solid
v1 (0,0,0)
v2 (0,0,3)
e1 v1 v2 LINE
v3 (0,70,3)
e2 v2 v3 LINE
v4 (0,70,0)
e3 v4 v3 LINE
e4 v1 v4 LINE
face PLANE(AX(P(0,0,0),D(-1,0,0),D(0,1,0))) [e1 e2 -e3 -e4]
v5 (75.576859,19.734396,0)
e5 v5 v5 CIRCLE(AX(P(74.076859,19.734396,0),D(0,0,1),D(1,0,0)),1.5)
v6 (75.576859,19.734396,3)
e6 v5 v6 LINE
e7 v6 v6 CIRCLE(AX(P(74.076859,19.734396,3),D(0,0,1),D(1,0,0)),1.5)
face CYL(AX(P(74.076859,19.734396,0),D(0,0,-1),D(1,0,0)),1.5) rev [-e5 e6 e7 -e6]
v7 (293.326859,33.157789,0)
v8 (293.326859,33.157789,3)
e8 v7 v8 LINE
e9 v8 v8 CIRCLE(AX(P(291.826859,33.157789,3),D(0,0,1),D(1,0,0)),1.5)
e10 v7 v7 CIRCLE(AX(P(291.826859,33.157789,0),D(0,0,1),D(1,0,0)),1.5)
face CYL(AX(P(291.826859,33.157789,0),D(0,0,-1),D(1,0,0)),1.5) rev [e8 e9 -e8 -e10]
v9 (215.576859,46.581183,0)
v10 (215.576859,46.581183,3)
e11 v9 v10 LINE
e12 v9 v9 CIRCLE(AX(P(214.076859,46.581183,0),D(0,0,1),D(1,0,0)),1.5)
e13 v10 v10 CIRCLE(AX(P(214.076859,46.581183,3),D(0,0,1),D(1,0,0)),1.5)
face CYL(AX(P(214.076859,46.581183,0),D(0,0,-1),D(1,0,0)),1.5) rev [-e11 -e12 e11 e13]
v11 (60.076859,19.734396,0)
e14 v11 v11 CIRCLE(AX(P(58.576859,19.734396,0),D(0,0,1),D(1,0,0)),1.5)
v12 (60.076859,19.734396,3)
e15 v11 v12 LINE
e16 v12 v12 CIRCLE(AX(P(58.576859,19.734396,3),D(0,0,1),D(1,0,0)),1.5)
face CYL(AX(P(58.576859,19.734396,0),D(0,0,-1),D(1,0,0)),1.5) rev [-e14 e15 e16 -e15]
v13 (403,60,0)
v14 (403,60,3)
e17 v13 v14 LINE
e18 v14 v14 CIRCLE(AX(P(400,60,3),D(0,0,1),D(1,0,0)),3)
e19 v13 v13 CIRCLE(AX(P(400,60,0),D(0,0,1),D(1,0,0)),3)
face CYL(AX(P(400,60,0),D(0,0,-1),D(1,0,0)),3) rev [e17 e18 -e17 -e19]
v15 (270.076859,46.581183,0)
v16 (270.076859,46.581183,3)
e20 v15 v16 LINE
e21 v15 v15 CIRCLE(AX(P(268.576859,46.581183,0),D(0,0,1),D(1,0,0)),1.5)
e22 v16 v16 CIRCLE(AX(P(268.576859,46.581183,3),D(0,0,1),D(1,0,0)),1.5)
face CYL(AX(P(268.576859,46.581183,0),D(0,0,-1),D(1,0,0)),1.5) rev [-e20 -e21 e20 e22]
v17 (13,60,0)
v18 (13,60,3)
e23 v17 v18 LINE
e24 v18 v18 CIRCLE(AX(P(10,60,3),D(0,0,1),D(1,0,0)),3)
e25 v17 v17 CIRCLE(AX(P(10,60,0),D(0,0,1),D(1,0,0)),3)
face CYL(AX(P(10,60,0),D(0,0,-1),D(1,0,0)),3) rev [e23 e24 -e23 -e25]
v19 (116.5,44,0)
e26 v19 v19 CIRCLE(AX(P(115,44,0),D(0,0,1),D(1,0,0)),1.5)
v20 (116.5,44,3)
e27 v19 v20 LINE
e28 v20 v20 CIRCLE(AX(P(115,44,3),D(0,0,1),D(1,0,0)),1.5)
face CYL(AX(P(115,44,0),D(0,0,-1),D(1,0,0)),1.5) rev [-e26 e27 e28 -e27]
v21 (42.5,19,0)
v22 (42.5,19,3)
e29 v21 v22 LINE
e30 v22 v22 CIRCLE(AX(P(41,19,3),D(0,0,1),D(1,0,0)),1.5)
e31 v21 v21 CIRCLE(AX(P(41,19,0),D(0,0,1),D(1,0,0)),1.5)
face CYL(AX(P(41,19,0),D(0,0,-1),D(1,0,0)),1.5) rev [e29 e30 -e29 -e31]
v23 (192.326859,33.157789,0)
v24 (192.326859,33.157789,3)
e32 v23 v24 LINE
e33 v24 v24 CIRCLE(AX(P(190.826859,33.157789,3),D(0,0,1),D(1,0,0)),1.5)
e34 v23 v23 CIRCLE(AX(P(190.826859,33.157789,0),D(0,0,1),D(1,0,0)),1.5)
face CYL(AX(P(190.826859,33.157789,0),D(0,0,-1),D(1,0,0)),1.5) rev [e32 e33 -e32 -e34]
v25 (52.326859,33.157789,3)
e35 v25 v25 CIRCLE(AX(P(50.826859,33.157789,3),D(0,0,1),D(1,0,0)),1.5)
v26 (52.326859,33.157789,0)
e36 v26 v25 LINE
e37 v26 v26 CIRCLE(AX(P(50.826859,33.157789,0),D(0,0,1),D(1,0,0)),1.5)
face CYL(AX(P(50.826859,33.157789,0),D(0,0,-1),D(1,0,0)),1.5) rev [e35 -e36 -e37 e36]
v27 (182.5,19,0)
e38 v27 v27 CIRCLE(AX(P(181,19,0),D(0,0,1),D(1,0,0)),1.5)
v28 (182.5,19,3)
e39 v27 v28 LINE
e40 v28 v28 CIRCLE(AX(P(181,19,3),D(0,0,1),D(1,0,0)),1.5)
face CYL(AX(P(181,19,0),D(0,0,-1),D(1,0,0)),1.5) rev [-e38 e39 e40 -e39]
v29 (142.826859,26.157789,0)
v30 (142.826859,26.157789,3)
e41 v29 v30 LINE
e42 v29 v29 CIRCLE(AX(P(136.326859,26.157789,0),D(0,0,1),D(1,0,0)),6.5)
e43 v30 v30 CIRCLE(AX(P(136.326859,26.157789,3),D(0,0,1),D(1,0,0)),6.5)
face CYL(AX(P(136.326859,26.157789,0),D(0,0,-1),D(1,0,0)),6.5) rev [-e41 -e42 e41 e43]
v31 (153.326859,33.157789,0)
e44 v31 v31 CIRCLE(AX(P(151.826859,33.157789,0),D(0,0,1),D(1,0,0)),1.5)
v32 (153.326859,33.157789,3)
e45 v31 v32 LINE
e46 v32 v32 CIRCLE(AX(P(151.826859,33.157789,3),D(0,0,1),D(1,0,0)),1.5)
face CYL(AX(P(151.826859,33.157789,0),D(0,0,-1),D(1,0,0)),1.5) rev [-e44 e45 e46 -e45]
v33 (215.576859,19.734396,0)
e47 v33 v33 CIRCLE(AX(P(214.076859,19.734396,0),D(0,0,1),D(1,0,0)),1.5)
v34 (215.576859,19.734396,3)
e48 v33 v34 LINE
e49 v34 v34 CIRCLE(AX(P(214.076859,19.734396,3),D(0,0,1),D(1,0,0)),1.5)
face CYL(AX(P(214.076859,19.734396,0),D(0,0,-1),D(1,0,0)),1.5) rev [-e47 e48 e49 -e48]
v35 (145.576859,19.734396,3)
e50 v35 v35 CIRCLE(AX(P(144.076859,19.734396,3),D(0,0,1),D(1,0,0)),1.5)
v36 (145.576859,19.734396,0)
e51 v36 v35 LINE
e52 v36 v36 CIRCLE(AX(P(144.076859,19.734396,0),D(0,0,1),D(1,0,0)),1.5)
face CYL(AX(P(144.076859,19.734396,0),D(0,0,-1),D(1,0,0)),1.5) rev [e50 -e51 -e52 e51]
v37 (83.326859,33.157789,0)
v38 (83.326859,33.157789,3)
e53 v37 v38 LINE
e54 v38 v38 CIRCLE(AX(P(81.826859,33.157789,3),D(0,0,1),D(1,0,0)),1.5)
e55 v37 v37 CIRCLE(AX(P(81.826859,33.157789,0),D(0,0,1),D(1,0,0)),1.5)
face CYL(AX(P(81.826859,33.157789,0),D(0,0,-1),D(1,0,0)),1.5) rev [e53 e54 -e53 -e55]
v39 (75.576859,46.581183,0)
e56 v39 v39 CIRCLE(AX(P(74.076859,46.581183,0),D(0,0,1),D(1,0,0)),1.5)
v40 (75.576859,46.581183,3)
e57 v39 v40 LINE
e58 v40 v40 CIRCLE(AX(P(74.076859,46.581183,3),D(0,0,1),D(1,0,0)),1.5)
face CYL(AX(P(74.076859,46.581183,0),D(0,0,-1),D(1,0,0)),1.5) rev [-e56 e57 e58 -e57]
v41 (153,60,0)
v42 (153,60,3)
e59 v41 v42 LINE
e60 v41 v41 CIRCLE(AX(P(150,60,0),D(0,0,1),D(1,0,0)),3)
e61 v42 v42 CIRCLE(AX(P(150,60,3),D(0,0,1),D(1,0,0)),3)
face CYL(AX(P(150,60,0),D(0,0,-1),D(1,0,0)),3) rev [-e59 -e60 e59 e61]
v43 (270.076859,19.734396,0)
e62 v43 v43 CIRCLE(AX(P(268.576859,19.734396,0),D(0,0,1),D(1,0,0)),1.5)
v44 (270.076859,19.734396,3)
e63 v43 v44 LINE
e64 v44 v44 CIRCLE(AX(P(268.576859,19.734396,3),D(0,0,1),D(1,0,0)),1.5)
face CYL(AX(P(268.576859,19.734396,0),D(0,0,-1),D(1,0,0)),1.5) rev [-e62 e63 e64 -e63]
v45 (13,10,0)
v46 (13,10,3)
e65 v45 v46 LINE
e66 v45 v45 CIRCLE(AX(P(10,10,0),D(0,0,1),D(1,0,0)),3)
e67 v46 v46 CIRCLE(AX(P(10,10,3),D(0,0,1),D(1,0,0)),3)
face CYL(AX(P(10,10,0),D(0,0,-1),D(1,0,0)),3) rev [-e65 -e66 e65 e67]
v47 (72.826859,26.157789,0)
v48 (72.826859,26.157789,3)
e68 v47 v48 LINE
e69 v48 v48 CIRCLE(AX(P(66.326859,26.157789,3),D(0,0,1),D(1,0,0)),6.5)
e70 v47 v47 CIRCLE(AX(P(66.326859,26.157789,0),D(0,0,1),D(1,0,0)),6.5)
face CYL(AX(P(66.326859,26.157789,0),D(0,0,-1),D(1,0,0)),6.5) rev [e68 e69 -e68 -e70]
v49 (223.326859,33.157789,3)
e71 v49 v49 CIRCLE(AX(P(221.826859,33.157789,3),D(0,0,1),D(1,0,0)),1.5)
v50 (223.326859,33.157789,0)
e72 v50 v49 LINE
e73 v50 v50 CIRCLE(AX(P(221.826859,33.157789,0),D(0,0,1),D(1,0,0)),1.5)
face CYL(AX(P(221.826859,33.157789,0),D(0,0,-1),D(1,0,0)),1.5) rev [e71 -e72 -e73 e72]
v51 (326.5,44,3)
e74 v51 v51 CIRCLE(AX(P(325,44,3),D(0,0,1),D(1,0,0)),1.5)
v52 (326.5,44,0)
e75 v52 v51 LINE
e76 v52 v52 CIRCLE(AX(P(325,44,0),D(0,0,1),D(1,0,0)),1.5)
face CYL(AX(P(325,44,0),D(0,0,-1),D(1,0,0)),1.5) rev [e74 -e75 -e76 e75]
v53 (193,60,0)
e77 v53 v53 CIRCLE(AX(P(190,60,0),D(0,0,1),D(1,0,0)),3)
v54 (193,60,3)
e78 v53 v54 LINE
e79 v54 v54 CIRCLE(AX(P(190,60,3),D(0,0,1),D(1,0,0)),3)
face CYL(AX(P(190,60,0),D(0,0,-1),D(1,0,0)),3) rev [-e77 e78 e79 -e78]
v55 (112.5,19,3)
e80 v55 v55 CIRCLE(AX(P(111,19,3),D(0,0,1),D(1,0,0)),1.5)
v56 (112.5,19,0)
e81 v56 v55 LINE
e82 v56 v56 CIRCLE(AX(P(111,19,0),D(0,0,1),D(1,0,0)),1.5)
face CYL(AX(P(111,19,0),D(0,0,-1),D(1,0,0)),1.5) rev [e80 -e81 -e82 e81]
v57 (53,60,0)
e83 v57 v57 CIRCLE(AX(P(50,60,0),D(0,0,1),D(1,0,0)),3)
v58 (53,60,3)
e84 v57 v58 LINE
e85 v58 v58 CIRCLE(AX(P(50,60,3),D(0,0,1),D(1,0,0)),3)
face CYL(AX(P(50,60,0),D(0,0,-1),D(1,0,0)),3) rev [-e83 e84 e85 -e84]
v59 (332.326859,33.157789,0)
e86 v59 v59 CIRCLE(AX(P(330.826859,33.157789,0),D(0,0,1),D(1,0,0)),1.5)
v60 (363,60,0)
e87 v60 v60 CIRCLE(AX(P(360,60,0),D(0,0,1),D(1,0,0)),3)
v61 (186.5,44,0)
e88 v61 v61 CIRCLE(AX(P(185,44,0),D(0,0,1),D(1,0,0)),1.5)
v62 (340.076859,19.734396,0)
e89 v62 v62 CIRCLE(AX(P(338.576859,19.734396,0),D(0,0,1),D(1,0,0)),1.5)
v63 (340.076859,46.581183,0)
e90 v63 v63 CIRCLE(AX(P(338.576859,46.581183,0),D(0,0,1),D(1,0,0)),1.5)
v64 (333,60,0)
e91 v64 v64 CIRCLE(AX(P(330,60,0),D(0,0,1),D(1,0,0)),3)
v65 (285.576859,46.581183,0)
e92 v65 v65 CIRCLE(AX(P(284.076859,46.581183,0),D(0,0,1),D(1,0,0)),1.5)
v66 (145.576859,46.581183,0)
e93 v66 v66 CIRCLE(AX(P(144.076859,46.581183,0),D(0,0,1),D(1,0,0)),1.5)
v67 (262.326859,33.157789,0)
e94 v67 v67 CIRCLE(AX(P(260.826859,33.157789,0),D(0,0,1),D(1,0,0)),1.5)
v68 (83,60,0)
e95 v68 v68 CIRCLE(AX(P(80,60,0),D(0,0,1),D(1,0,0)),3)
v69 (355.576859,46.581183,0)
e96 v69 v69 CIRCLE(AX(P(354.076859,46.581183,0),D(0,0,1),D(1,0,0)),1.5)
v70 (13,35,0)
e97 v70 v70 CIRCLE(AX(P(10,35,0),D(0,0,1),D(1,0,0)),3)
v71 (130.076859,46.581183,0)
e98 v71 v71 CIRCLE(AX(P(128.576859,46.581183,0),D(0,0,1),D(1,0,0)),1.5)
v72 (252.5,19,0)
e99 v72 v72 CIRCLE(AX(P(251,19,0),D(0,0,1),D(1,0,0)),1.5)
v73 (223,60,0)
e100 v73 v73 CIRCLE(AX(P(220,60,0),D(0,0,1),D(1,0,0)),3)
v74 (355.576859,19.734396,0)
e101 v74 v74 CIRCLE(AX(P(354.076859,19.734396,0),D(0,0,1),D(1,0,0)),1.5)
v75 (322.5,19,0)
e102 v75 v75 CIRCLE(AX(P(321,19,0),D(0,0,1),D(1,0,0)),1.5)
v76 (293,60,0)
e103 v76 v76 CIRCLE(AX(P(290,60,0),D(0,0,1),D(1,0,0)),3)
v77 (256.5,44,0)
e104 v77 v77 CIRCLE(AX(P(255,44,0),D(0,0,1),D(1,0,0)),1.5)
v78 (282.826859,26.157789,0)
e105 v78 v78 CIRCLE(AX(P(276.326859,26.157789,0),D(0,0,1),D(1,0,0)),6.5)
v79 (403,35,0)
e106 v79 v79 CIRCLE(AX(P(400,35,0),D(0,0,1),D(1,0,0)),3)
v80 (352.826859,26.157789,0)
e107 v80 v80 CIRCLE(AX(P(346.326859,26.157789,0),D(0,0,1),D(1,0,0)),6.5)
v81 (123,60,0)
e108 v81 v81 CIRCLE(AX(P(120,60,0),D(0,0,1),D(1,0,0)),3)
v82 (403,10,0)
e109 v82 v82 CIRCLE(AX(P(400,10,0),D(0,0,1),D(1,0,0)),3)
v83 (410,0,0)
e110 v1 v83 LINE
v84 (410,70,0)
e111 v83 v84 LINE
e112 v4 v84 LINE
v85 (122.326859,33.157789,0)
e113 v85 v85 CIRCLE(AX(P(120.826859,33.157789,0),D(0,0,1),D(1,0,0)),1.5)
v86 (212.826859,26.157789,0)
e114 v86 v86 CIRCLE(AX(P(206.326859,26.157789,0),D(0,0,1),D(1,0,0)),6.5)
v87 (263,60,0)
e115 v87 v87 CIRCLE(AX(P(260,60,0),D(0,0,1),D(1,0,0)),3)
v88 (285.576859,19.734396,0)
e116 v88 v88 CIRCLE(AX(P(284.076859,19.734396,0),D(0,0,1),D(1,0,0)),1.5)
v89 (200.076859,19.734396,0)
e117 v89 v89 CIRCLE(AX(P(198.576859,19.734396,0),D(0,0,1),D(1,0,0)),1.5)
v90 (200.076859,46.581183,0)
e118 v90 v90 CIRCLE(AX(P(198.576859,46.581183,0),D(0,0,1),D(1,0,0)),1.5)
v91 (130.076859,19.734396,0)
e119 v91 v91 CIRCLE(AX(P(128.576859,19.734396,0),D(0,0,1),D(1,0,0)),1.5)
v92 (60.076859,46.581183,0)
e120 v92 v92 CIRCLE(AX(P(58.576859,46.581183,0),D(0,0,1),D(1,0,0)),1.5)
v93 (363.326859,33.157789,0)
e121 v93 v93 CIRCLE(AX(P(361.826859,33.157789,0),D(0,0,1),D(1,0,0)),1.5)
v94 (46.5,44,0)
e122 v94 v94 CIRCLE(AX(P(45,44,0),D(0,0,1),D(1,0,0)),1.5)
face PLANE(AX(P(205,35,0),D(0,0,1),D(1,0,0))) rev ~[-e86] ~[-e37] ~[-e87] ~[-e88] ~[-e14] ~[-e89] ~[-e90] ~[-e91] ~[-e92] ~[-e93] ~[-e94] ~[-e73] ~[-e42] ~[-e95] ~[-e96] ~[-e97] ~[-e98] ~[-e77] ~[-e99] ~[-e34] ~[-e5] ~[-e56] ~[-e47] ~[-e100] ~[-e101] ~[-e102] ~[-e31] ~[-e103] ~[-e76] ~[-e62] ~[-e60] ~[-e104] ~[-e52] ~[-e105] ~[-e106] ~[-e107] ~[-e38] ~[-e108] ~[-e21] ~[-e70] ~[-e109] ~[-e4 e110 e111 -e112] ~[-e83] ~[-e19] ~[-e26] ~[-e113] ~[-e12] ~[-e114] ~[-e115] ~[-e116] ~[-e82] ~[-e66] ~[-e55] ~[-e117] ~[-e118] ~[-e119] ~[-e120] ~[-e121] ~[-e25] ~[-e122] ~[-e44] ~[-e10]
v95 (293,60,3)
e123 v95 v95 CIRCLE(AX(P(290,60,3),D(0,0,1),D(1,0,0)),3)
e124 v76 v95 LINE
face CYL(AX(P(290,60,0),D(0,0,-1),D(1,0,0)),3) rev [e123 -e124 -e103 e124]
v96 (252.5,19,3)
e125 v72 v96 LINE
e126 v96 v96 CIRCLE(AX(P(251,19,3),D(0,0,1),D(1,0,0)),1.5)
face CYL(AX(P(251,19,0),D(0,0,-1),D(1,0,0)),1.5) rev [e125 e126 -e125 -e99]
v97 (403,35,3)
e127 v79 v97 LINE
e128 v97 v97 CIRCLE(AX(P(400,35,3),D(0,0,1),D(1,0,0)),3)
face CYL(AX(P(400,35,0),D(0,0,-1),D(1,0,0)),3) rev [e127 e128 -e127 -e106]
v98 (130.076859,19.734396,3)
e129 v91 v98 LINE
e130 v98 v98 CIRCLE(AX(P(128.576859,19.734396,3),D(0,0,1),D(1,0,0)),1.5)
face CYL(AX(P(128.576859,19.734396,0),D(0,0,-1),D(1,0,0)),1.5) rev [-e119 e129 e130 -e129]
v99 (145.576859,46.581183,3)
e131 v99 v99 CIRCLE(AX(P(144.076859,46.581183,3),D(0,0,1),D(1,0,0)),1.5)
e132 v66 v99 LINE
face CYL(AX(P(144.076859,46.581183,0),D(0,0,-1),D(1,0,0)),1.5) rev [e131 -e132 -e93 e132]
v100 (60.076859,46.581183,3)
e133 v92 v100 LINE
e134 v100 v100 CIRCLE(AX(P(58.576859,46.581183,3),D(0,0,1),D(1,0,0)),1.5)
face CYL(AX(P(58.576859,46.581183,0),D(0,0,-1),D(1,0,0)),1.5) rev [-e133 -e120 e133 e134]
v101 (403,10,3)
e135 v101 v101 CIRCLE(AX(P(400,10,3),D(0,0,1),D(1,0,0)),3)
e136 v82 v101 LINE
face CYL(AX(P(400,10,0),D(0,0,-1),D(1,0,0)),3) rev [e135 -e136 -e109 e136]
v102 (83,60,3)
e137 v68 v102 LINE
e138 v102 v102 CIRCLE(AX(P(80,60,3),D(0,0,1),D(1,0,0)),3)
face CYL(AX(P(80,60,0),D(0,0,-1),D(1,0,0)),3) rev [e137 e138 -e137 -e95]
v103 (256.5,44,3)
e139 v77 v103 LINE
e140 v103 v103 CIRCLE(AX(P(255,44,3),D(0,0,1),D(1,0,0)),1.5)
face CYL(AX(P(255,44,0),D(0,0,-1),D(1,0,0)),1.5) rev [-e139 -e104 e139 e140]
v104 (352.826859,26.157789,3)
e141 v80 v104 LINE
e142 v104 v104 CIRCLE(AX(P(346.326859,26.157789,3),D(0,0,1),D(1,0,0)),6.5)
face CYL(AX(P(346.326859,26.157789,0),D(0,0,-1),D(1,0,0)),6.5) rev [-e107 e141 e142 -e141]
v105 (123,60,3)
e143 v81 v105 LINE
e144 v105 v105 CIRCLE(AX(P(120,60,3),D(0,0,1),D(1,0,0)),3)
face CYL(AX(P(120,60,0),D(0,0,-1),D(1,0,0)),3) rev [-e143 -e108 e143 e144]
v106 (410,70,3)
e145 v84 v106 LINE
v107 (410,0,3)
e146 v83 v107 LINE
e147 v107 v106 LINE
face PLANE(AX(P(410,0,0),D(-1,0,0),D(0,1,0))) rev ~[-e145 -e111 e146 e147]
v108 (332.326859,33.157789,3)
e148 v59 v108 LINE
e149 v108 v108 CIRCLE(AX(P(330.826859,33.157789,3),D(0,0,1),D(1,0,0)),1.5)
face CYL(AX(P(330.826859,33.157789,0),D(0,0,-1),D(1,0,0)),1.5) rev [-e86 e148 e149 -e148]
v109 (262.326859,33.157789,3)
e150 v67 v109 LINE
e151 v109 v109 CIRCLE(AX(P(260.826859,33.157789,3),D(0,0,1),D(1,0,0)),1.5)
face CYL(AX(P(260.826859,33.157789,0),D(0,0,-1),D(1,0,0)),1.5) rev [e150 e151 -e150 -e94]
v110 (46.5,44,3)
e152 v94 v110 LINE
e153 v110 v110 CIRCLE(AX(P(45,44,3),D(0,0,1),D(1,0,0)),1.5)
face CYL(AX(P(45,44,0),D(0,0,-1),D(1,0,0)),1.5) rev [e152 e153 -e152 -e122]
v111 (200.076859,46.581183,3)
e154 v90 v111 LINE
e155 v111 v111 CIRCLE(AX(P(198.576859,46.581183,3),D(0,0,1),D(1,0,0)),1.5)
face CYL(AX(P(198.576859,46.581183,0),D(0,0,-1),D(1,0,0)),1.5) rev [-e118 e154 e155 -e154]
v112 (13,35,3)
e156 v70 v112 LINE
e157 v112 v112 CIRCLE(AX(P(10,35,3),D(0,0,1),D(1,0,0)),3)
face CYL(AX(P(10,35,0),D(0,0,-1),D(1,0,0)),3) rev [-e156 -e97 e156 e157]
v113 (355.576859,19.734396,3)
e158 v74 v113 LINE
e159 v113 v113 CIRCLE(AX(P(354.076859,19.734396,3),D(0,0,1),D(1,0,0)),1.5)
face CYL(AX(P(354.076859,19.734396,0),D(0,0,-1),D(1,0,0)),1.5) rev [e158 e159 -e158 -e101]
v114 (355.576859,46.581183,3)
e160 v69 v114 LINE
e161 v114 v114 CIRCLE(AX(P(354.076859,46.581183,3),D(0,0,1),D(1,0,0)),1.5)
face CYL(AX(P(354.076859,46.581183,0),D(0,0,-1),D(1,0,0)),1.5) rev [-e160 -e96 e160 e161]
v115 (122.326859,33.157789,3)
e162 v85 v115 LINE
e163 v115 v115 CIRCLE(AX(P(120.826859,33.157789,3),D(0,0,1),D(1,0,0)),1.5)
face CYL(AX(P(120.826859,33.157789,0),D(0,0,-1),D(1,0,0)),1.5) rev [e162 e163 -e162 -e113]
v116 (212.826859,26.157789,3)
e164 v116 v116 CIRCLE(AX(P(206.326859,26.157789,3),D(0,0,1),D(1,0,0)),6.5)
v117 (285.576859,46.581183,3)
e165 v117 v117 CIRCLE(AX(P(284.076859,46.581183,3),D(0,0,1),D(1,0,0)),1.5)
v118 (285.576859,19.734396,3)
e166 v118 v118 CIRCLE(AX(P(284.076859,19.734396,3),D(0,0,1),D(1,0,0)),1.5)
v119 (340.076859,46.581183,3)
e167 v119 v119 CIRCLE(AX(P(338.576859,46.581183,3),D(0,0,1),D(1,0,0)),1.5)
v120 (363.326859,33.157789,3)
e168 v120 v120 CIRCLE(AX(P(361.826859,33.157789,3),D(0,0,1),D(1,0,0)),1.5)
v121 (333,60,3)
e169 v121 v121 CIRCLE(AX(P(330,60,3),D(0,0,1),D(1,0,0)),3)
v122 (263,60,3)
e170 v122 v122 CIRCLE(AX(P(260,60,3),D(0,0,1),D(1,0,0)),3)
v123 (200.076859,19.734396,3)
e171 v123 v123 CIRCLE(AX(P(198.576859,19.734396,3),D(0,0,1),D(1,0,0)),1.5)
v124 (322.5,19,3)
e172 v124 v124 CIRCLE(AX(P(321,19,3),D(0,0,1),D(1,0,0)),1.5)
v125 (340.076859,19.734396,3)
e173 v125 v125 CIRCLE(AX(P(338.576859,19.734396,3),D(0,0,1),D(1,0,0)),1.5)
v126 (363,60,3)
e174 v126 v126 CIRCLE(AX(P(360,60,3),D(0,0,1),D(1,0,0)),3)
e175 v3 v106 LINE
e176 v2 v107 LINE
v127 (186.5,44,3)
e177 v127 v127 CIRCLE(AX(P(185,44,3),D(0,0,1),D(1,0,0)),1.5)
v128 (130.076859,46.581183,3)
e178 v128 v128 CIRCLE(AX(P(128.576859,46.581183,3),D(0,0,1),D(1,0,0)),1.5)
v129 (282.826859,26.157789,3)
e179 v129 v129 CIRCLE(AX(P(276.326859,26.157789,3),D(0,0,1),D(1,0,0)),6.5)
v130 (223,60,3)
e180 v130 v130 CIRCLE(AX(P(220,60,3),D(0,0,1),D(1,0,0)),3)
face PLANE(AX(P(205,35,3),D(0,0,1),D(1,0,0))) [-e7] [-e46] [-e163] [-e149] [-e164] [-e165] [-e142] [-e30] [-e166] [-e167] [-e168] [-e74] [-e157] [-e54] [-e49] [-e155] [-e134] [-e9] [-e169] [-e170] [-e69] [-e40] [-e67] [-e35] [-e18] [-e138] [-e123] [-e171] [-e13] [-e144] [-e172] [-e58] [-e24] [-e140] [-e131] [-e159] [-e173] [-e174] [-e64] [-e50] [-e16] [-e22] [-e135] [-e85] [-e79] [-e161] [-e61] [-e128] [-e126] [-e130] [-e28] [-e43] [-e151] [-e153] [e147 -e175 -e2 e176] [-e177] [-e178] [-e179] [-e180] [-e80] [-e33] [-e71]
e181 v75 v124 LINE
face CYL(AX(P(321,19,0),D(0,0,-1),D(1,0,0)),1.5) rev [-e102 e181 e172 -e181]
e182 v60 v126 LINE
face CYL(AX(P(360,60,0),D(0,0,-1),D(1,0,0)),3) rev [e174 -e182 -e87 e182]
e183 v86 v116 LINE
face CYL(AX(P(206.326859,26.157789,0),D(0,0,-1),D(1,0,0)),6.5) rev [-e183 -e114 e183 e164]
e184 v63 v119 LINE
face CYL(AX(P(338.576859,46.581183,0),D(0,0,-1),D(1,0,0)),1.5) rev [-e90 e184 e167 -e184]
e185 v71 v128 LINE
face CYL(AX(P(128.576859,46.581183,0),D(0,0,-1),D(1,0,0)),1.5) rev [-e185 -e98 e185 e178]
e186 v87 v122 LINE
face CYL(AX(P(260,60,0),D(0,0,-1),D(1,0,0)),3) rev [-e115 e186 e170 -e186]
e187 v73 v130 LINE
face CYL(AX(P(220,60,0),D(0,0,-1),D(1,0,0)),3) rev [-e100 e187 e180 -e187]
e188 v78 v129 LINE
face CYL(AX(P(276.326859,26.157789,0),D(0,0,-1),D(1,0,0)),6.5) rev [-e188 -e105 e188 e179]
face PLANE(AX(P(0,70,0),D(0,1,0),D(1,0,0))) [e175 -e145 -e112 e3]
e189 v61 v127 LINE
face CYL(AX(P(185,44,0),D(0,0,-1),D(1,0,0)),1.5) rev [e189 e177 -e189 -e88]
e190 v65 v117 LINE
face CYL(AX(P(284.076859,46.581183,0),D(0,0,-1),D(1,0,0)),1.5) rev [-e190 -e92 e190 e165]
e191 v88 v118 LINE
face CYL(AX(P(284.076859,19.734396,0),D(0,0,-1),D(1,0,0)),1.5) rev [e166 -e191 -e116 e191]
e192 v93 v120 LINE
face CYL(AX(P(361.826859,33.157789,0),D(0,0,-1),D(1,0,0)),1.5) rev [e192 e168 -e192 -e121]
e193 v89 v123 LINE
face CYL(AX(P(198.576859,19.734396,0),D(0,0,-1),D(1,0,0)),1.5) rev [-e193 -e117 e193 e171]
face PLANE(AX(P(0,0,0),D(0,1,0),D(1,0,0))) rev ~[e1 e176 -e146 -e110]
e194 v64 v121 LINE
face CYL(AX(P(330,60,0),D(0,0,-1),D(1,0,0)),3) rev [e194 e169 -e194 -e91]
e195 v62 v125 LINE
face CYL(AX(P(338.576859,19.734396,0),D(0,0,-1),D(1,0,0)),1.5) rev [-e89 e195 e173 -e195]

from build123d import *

# Parameters (mm, degrees)
SKETCH_1_W      = 410
SKETCH_1_H      = 70
SKETCH_1_R      = 3
SKETCH_1_R_2    = 6.5
SKETCH_1_R_3    = 1.5
EXTRUDE_1_DEPTH = 3


with BuildPart() as part:
    # 草图1 → 凸台-拉伸1 (new body)
    with BuildSketch(Plane.XY):
        with Locations((205, 35)):
            Rectangle(SKETCH_1_W, SKETCH_1_H)
        with Locations((10, 60)):
            Circle(SKETCH_1_R, mode=Mode.SUBTRACT)
        with Locations((50, 60)):
            Circle(SKETCH_1_R, mode=Mode.SUBTRACT)
        with Locations((80, 60)):
            Circle(SKETCH_1_R, mode=Mode.SUBTRACT)
        with Locations((120, 60)):
            Circle(SKETCH_1_R, mode=Mode.SUBTRACT)
        with Locations((150, 60)):
            Circle(SKETCH_1_R, mode=Mode.SUBTRACT)
        with Locations((190, 60)):
            Circle(SKETCH_1_R, mode=Mode.SUBTRACT)
        with Locations((220, 60)):
            Circle(SKETCH_1_R, mode=Mode.SUBTRACT)
        with Locations((260, 60)):
            Circle(SKETCH_1_R, mode=Mode.SUBTRACT)
        with Locations((290, 60)):
            Circle(SKETCH_1_R, mode=Mode.SUBTRACT)
        with Locations((330, 60)):
            Circle(SKETCH_1_R, mode=Mode.SUBTRACT)
        with Locations((360, 60)):
            Circle(SKETCH_1_R, mode=Mode.SUBTRACT)
        with Locations((400, 60)):
            Circle(SKETCH_1_R, mode=Mode.SUBTRACT)
        with Locations((66.32685934, 26.157789308)):
            Circle(SKETCH_1_R_2, mode=Mode.SUBTRACT)
        with Locations((136.32685934, 26.157789308)):
            Circle(SKETCH_1_R_2, mode=Mode.SUBTRACT)
        with Locations((206.32685934, 26.157789308)):
            Circle(SKETCH_1_R_2, mode=Mode.SUBTRACT)
        with Locations((276.32685934, 26.157789308)):
            Circle(SKETCH_1_R_2, mode=Mode.SUBTRACT)
        with Locations((346.32685934, 26.157789308)):
            Circle(SKETCH_1_R_2, mode=Mode.SUBTRACT)
        with Locations((81.82685934, 33.157789308)):
            Circle(SKETCH_1_R_3, mode=Mode.SUBTRACT)
        with Locations((74.07685934, 19.73439555)):
            Circle(SKETCH_1_R_3, mode=Mode.SUBTRACT)
        with Locations((58.57685934, 19.73439555)):
            Circle(SKETCH_1_R_3, mode=Mode.SUBTRACT)
        with Locations((50.82685934, 33.157789308)):
            Circle(SKETCH_1_R_3, mode=Mode.SUBTRACT)
        with Locations((58.57685934, 46.581183067)):
            Circle(SKETCH_1_R_3, mode=Mode.SUBTRACT)
        with Locations((74.07685934, 46.581183067)):
            Circle(SKETCH_1_R_3, mode=Mode.SUBTRACT)
        with Locations((128.57685934, 46.581183067)):
            Circle(SKETCH_1_R_3, mode=Mode.SUBTRACT)
        with Locations((120.82685934, 33.157789308)):
            Circle(SKETCH_1_R_3, mode=Mode.SUBTRACT)
        with Locations((128.57685934, 19.73439555)):
            Circle(SKETCH_1_R_3, mode=Mode.SUBTRACT)
        with Locations((144.07685934, 19.73439555)):
            Circle(SKETCH_1_R_3, mode=Mode.SUBTRACT)
        with Locations((144.07685934, 46.581183067)):
            Circle(SKETCH_1_R_3, mode=Mode.SUBTRACT)
        with Locations((151.82685934, 33.157789308)):
            Circle(SKETCH_1_R_3, mode=Mode.SUBTRACT)
        with Locations((198.57685934, 46.581183067)):
            Circle(SKETCH_1_R_3, mode=Mode.SUBTRACT)
        with Locations((190.82685934, 33.157789308)):
            Circle(SKETCH_1_R_3, mode=Mode.SUBTRACT)
        with Locations((198.57685934, 19.73439555)):
            Circle(SKETCH_1_R_3, mode=Mode.SUBTRACT)
        with Locations((214.07685934, 19.73439555)):
            Circle(SKETCH_1_R_3, mode=Mode.SUBTRACT)
        with Locations((214.07685934, 46.581183067)):
            Circle(SKETCH_1_R_3, mode=Mode.SUBTRACT)
        with Locations((221.82685934, 33.157789308)):
            Circle(SKETCH_1_R_3, mode=Mode.SUBTRACT)
        with Locations((268.57685934, 46.581183067)):
            Circle(SKETCH_1_R_3, mode=Mode.SUBTRACT)
        with Locations((260.82685934, 33.157789308)):
            Circle(SKETCH_1_R_3, mode=Mode.SUBTRACT)
        with Locations((268.57685934, 19.73439555)):
            Circle(SKETCH_1_R_3, mode=Mode.SUBTRACT)
        with Locations((284.07685934, 19.73439555)):
            Circle(SKETCH_1_R_3, mode=Mode.SUBTRACT)
        with Locations((284.07685934, 46.581183067)):
            Circle(SKETCH_1_R_3, mode=Mode.SUBTRACT)
        with Locations((291.82685934, 33.157789308)):
            Circle(SKETCH_1_R_3, mode=Mode.SUBTRACT)
        with Locations((338.57685934, 46.581183067)):
            Circle(SKETCH_1_R_3, mode=Mode.SUBTRACT)
        with Locations((330.82685934, 33.157789308)):
            Circle(SKETCH_1_R_3, mode=Mode.SUBTRACT)
        with Locations((338.57685934, 19.73439555)):
            Circle(SKETCH_1_R_3, mode=Mode.SUBTRACT)
        with Locations((354.07685934, 19.73439555)):
            Circle(SKETCH_1_R_3, mode=Mode.SUBTRACT)
        with Locations((354.07685934, 46.581183067)):
            Circle(SKETCH_1_R_3, mode=Mode.SUBTRACT)
        with Locations((361.82685934, 33.157789308)):
            Circle(SKETCH_1_R_3, mode=Mode.SUBTRACT)
        with Locations((325, 44)):
            Circle(SKETCH_1_R_3, mode=Mode.SUBTRACT)
        with Locations((321, 19)):
            Circle(SKETCH_1_R_3, mode=Mode.SUBTRACT)
        with Locations((255, 44)):
            Circle(SKETCH_1_R_3, mode=Mode.SUBTRACT)
        with Locations((251, 19)):
            Circle(SKETCH_1_R_3, mode=Mode.SUBTRACT)
        with Locations((185, 44)):
            Circle(SKETCH_1_R_3, mode=Mode.SUBTRACT)
        with Locations((181, 19)):
            Circle(SKETCH_1_R_3, mode=Mode.SUBTRACT)
        with Locations((115, 44)):
            Circle(SKETCH_1_R_3, mode=Mode.SUBTRACT)
        with Locations((111, 19)):
            Circle(SKETCH_1_R_3, mode=Mode.SUBTRACT)
        with Locations((45, 44)):
            Circle(SKETCH_1_R_3, mode=Mode.SUBTRACT)
        with Locations((41, 19)):
            Circle(SKETCH_1_R_3, mode=Mode.SUBTRACT)
        with Locations((400, 10)):
            Circle(SKETCH_1_R, mode=Mode.SUBTRACT)
        with Locations((10, 10)):
            Circle(SKETCH_1_R, mode=Mode.SUBTRACT)
        with Locations((10, 35)):
            Circle(SKETCH_1_R, mode=Mode.SUBTRACT)
        with Locations((400, 35)):
            Circle(SKETCH_1_R, mode=Mode.SUBTRACT)
    extrude(amount=EXTRUDE_1_DEPTH)


solid = part.part
